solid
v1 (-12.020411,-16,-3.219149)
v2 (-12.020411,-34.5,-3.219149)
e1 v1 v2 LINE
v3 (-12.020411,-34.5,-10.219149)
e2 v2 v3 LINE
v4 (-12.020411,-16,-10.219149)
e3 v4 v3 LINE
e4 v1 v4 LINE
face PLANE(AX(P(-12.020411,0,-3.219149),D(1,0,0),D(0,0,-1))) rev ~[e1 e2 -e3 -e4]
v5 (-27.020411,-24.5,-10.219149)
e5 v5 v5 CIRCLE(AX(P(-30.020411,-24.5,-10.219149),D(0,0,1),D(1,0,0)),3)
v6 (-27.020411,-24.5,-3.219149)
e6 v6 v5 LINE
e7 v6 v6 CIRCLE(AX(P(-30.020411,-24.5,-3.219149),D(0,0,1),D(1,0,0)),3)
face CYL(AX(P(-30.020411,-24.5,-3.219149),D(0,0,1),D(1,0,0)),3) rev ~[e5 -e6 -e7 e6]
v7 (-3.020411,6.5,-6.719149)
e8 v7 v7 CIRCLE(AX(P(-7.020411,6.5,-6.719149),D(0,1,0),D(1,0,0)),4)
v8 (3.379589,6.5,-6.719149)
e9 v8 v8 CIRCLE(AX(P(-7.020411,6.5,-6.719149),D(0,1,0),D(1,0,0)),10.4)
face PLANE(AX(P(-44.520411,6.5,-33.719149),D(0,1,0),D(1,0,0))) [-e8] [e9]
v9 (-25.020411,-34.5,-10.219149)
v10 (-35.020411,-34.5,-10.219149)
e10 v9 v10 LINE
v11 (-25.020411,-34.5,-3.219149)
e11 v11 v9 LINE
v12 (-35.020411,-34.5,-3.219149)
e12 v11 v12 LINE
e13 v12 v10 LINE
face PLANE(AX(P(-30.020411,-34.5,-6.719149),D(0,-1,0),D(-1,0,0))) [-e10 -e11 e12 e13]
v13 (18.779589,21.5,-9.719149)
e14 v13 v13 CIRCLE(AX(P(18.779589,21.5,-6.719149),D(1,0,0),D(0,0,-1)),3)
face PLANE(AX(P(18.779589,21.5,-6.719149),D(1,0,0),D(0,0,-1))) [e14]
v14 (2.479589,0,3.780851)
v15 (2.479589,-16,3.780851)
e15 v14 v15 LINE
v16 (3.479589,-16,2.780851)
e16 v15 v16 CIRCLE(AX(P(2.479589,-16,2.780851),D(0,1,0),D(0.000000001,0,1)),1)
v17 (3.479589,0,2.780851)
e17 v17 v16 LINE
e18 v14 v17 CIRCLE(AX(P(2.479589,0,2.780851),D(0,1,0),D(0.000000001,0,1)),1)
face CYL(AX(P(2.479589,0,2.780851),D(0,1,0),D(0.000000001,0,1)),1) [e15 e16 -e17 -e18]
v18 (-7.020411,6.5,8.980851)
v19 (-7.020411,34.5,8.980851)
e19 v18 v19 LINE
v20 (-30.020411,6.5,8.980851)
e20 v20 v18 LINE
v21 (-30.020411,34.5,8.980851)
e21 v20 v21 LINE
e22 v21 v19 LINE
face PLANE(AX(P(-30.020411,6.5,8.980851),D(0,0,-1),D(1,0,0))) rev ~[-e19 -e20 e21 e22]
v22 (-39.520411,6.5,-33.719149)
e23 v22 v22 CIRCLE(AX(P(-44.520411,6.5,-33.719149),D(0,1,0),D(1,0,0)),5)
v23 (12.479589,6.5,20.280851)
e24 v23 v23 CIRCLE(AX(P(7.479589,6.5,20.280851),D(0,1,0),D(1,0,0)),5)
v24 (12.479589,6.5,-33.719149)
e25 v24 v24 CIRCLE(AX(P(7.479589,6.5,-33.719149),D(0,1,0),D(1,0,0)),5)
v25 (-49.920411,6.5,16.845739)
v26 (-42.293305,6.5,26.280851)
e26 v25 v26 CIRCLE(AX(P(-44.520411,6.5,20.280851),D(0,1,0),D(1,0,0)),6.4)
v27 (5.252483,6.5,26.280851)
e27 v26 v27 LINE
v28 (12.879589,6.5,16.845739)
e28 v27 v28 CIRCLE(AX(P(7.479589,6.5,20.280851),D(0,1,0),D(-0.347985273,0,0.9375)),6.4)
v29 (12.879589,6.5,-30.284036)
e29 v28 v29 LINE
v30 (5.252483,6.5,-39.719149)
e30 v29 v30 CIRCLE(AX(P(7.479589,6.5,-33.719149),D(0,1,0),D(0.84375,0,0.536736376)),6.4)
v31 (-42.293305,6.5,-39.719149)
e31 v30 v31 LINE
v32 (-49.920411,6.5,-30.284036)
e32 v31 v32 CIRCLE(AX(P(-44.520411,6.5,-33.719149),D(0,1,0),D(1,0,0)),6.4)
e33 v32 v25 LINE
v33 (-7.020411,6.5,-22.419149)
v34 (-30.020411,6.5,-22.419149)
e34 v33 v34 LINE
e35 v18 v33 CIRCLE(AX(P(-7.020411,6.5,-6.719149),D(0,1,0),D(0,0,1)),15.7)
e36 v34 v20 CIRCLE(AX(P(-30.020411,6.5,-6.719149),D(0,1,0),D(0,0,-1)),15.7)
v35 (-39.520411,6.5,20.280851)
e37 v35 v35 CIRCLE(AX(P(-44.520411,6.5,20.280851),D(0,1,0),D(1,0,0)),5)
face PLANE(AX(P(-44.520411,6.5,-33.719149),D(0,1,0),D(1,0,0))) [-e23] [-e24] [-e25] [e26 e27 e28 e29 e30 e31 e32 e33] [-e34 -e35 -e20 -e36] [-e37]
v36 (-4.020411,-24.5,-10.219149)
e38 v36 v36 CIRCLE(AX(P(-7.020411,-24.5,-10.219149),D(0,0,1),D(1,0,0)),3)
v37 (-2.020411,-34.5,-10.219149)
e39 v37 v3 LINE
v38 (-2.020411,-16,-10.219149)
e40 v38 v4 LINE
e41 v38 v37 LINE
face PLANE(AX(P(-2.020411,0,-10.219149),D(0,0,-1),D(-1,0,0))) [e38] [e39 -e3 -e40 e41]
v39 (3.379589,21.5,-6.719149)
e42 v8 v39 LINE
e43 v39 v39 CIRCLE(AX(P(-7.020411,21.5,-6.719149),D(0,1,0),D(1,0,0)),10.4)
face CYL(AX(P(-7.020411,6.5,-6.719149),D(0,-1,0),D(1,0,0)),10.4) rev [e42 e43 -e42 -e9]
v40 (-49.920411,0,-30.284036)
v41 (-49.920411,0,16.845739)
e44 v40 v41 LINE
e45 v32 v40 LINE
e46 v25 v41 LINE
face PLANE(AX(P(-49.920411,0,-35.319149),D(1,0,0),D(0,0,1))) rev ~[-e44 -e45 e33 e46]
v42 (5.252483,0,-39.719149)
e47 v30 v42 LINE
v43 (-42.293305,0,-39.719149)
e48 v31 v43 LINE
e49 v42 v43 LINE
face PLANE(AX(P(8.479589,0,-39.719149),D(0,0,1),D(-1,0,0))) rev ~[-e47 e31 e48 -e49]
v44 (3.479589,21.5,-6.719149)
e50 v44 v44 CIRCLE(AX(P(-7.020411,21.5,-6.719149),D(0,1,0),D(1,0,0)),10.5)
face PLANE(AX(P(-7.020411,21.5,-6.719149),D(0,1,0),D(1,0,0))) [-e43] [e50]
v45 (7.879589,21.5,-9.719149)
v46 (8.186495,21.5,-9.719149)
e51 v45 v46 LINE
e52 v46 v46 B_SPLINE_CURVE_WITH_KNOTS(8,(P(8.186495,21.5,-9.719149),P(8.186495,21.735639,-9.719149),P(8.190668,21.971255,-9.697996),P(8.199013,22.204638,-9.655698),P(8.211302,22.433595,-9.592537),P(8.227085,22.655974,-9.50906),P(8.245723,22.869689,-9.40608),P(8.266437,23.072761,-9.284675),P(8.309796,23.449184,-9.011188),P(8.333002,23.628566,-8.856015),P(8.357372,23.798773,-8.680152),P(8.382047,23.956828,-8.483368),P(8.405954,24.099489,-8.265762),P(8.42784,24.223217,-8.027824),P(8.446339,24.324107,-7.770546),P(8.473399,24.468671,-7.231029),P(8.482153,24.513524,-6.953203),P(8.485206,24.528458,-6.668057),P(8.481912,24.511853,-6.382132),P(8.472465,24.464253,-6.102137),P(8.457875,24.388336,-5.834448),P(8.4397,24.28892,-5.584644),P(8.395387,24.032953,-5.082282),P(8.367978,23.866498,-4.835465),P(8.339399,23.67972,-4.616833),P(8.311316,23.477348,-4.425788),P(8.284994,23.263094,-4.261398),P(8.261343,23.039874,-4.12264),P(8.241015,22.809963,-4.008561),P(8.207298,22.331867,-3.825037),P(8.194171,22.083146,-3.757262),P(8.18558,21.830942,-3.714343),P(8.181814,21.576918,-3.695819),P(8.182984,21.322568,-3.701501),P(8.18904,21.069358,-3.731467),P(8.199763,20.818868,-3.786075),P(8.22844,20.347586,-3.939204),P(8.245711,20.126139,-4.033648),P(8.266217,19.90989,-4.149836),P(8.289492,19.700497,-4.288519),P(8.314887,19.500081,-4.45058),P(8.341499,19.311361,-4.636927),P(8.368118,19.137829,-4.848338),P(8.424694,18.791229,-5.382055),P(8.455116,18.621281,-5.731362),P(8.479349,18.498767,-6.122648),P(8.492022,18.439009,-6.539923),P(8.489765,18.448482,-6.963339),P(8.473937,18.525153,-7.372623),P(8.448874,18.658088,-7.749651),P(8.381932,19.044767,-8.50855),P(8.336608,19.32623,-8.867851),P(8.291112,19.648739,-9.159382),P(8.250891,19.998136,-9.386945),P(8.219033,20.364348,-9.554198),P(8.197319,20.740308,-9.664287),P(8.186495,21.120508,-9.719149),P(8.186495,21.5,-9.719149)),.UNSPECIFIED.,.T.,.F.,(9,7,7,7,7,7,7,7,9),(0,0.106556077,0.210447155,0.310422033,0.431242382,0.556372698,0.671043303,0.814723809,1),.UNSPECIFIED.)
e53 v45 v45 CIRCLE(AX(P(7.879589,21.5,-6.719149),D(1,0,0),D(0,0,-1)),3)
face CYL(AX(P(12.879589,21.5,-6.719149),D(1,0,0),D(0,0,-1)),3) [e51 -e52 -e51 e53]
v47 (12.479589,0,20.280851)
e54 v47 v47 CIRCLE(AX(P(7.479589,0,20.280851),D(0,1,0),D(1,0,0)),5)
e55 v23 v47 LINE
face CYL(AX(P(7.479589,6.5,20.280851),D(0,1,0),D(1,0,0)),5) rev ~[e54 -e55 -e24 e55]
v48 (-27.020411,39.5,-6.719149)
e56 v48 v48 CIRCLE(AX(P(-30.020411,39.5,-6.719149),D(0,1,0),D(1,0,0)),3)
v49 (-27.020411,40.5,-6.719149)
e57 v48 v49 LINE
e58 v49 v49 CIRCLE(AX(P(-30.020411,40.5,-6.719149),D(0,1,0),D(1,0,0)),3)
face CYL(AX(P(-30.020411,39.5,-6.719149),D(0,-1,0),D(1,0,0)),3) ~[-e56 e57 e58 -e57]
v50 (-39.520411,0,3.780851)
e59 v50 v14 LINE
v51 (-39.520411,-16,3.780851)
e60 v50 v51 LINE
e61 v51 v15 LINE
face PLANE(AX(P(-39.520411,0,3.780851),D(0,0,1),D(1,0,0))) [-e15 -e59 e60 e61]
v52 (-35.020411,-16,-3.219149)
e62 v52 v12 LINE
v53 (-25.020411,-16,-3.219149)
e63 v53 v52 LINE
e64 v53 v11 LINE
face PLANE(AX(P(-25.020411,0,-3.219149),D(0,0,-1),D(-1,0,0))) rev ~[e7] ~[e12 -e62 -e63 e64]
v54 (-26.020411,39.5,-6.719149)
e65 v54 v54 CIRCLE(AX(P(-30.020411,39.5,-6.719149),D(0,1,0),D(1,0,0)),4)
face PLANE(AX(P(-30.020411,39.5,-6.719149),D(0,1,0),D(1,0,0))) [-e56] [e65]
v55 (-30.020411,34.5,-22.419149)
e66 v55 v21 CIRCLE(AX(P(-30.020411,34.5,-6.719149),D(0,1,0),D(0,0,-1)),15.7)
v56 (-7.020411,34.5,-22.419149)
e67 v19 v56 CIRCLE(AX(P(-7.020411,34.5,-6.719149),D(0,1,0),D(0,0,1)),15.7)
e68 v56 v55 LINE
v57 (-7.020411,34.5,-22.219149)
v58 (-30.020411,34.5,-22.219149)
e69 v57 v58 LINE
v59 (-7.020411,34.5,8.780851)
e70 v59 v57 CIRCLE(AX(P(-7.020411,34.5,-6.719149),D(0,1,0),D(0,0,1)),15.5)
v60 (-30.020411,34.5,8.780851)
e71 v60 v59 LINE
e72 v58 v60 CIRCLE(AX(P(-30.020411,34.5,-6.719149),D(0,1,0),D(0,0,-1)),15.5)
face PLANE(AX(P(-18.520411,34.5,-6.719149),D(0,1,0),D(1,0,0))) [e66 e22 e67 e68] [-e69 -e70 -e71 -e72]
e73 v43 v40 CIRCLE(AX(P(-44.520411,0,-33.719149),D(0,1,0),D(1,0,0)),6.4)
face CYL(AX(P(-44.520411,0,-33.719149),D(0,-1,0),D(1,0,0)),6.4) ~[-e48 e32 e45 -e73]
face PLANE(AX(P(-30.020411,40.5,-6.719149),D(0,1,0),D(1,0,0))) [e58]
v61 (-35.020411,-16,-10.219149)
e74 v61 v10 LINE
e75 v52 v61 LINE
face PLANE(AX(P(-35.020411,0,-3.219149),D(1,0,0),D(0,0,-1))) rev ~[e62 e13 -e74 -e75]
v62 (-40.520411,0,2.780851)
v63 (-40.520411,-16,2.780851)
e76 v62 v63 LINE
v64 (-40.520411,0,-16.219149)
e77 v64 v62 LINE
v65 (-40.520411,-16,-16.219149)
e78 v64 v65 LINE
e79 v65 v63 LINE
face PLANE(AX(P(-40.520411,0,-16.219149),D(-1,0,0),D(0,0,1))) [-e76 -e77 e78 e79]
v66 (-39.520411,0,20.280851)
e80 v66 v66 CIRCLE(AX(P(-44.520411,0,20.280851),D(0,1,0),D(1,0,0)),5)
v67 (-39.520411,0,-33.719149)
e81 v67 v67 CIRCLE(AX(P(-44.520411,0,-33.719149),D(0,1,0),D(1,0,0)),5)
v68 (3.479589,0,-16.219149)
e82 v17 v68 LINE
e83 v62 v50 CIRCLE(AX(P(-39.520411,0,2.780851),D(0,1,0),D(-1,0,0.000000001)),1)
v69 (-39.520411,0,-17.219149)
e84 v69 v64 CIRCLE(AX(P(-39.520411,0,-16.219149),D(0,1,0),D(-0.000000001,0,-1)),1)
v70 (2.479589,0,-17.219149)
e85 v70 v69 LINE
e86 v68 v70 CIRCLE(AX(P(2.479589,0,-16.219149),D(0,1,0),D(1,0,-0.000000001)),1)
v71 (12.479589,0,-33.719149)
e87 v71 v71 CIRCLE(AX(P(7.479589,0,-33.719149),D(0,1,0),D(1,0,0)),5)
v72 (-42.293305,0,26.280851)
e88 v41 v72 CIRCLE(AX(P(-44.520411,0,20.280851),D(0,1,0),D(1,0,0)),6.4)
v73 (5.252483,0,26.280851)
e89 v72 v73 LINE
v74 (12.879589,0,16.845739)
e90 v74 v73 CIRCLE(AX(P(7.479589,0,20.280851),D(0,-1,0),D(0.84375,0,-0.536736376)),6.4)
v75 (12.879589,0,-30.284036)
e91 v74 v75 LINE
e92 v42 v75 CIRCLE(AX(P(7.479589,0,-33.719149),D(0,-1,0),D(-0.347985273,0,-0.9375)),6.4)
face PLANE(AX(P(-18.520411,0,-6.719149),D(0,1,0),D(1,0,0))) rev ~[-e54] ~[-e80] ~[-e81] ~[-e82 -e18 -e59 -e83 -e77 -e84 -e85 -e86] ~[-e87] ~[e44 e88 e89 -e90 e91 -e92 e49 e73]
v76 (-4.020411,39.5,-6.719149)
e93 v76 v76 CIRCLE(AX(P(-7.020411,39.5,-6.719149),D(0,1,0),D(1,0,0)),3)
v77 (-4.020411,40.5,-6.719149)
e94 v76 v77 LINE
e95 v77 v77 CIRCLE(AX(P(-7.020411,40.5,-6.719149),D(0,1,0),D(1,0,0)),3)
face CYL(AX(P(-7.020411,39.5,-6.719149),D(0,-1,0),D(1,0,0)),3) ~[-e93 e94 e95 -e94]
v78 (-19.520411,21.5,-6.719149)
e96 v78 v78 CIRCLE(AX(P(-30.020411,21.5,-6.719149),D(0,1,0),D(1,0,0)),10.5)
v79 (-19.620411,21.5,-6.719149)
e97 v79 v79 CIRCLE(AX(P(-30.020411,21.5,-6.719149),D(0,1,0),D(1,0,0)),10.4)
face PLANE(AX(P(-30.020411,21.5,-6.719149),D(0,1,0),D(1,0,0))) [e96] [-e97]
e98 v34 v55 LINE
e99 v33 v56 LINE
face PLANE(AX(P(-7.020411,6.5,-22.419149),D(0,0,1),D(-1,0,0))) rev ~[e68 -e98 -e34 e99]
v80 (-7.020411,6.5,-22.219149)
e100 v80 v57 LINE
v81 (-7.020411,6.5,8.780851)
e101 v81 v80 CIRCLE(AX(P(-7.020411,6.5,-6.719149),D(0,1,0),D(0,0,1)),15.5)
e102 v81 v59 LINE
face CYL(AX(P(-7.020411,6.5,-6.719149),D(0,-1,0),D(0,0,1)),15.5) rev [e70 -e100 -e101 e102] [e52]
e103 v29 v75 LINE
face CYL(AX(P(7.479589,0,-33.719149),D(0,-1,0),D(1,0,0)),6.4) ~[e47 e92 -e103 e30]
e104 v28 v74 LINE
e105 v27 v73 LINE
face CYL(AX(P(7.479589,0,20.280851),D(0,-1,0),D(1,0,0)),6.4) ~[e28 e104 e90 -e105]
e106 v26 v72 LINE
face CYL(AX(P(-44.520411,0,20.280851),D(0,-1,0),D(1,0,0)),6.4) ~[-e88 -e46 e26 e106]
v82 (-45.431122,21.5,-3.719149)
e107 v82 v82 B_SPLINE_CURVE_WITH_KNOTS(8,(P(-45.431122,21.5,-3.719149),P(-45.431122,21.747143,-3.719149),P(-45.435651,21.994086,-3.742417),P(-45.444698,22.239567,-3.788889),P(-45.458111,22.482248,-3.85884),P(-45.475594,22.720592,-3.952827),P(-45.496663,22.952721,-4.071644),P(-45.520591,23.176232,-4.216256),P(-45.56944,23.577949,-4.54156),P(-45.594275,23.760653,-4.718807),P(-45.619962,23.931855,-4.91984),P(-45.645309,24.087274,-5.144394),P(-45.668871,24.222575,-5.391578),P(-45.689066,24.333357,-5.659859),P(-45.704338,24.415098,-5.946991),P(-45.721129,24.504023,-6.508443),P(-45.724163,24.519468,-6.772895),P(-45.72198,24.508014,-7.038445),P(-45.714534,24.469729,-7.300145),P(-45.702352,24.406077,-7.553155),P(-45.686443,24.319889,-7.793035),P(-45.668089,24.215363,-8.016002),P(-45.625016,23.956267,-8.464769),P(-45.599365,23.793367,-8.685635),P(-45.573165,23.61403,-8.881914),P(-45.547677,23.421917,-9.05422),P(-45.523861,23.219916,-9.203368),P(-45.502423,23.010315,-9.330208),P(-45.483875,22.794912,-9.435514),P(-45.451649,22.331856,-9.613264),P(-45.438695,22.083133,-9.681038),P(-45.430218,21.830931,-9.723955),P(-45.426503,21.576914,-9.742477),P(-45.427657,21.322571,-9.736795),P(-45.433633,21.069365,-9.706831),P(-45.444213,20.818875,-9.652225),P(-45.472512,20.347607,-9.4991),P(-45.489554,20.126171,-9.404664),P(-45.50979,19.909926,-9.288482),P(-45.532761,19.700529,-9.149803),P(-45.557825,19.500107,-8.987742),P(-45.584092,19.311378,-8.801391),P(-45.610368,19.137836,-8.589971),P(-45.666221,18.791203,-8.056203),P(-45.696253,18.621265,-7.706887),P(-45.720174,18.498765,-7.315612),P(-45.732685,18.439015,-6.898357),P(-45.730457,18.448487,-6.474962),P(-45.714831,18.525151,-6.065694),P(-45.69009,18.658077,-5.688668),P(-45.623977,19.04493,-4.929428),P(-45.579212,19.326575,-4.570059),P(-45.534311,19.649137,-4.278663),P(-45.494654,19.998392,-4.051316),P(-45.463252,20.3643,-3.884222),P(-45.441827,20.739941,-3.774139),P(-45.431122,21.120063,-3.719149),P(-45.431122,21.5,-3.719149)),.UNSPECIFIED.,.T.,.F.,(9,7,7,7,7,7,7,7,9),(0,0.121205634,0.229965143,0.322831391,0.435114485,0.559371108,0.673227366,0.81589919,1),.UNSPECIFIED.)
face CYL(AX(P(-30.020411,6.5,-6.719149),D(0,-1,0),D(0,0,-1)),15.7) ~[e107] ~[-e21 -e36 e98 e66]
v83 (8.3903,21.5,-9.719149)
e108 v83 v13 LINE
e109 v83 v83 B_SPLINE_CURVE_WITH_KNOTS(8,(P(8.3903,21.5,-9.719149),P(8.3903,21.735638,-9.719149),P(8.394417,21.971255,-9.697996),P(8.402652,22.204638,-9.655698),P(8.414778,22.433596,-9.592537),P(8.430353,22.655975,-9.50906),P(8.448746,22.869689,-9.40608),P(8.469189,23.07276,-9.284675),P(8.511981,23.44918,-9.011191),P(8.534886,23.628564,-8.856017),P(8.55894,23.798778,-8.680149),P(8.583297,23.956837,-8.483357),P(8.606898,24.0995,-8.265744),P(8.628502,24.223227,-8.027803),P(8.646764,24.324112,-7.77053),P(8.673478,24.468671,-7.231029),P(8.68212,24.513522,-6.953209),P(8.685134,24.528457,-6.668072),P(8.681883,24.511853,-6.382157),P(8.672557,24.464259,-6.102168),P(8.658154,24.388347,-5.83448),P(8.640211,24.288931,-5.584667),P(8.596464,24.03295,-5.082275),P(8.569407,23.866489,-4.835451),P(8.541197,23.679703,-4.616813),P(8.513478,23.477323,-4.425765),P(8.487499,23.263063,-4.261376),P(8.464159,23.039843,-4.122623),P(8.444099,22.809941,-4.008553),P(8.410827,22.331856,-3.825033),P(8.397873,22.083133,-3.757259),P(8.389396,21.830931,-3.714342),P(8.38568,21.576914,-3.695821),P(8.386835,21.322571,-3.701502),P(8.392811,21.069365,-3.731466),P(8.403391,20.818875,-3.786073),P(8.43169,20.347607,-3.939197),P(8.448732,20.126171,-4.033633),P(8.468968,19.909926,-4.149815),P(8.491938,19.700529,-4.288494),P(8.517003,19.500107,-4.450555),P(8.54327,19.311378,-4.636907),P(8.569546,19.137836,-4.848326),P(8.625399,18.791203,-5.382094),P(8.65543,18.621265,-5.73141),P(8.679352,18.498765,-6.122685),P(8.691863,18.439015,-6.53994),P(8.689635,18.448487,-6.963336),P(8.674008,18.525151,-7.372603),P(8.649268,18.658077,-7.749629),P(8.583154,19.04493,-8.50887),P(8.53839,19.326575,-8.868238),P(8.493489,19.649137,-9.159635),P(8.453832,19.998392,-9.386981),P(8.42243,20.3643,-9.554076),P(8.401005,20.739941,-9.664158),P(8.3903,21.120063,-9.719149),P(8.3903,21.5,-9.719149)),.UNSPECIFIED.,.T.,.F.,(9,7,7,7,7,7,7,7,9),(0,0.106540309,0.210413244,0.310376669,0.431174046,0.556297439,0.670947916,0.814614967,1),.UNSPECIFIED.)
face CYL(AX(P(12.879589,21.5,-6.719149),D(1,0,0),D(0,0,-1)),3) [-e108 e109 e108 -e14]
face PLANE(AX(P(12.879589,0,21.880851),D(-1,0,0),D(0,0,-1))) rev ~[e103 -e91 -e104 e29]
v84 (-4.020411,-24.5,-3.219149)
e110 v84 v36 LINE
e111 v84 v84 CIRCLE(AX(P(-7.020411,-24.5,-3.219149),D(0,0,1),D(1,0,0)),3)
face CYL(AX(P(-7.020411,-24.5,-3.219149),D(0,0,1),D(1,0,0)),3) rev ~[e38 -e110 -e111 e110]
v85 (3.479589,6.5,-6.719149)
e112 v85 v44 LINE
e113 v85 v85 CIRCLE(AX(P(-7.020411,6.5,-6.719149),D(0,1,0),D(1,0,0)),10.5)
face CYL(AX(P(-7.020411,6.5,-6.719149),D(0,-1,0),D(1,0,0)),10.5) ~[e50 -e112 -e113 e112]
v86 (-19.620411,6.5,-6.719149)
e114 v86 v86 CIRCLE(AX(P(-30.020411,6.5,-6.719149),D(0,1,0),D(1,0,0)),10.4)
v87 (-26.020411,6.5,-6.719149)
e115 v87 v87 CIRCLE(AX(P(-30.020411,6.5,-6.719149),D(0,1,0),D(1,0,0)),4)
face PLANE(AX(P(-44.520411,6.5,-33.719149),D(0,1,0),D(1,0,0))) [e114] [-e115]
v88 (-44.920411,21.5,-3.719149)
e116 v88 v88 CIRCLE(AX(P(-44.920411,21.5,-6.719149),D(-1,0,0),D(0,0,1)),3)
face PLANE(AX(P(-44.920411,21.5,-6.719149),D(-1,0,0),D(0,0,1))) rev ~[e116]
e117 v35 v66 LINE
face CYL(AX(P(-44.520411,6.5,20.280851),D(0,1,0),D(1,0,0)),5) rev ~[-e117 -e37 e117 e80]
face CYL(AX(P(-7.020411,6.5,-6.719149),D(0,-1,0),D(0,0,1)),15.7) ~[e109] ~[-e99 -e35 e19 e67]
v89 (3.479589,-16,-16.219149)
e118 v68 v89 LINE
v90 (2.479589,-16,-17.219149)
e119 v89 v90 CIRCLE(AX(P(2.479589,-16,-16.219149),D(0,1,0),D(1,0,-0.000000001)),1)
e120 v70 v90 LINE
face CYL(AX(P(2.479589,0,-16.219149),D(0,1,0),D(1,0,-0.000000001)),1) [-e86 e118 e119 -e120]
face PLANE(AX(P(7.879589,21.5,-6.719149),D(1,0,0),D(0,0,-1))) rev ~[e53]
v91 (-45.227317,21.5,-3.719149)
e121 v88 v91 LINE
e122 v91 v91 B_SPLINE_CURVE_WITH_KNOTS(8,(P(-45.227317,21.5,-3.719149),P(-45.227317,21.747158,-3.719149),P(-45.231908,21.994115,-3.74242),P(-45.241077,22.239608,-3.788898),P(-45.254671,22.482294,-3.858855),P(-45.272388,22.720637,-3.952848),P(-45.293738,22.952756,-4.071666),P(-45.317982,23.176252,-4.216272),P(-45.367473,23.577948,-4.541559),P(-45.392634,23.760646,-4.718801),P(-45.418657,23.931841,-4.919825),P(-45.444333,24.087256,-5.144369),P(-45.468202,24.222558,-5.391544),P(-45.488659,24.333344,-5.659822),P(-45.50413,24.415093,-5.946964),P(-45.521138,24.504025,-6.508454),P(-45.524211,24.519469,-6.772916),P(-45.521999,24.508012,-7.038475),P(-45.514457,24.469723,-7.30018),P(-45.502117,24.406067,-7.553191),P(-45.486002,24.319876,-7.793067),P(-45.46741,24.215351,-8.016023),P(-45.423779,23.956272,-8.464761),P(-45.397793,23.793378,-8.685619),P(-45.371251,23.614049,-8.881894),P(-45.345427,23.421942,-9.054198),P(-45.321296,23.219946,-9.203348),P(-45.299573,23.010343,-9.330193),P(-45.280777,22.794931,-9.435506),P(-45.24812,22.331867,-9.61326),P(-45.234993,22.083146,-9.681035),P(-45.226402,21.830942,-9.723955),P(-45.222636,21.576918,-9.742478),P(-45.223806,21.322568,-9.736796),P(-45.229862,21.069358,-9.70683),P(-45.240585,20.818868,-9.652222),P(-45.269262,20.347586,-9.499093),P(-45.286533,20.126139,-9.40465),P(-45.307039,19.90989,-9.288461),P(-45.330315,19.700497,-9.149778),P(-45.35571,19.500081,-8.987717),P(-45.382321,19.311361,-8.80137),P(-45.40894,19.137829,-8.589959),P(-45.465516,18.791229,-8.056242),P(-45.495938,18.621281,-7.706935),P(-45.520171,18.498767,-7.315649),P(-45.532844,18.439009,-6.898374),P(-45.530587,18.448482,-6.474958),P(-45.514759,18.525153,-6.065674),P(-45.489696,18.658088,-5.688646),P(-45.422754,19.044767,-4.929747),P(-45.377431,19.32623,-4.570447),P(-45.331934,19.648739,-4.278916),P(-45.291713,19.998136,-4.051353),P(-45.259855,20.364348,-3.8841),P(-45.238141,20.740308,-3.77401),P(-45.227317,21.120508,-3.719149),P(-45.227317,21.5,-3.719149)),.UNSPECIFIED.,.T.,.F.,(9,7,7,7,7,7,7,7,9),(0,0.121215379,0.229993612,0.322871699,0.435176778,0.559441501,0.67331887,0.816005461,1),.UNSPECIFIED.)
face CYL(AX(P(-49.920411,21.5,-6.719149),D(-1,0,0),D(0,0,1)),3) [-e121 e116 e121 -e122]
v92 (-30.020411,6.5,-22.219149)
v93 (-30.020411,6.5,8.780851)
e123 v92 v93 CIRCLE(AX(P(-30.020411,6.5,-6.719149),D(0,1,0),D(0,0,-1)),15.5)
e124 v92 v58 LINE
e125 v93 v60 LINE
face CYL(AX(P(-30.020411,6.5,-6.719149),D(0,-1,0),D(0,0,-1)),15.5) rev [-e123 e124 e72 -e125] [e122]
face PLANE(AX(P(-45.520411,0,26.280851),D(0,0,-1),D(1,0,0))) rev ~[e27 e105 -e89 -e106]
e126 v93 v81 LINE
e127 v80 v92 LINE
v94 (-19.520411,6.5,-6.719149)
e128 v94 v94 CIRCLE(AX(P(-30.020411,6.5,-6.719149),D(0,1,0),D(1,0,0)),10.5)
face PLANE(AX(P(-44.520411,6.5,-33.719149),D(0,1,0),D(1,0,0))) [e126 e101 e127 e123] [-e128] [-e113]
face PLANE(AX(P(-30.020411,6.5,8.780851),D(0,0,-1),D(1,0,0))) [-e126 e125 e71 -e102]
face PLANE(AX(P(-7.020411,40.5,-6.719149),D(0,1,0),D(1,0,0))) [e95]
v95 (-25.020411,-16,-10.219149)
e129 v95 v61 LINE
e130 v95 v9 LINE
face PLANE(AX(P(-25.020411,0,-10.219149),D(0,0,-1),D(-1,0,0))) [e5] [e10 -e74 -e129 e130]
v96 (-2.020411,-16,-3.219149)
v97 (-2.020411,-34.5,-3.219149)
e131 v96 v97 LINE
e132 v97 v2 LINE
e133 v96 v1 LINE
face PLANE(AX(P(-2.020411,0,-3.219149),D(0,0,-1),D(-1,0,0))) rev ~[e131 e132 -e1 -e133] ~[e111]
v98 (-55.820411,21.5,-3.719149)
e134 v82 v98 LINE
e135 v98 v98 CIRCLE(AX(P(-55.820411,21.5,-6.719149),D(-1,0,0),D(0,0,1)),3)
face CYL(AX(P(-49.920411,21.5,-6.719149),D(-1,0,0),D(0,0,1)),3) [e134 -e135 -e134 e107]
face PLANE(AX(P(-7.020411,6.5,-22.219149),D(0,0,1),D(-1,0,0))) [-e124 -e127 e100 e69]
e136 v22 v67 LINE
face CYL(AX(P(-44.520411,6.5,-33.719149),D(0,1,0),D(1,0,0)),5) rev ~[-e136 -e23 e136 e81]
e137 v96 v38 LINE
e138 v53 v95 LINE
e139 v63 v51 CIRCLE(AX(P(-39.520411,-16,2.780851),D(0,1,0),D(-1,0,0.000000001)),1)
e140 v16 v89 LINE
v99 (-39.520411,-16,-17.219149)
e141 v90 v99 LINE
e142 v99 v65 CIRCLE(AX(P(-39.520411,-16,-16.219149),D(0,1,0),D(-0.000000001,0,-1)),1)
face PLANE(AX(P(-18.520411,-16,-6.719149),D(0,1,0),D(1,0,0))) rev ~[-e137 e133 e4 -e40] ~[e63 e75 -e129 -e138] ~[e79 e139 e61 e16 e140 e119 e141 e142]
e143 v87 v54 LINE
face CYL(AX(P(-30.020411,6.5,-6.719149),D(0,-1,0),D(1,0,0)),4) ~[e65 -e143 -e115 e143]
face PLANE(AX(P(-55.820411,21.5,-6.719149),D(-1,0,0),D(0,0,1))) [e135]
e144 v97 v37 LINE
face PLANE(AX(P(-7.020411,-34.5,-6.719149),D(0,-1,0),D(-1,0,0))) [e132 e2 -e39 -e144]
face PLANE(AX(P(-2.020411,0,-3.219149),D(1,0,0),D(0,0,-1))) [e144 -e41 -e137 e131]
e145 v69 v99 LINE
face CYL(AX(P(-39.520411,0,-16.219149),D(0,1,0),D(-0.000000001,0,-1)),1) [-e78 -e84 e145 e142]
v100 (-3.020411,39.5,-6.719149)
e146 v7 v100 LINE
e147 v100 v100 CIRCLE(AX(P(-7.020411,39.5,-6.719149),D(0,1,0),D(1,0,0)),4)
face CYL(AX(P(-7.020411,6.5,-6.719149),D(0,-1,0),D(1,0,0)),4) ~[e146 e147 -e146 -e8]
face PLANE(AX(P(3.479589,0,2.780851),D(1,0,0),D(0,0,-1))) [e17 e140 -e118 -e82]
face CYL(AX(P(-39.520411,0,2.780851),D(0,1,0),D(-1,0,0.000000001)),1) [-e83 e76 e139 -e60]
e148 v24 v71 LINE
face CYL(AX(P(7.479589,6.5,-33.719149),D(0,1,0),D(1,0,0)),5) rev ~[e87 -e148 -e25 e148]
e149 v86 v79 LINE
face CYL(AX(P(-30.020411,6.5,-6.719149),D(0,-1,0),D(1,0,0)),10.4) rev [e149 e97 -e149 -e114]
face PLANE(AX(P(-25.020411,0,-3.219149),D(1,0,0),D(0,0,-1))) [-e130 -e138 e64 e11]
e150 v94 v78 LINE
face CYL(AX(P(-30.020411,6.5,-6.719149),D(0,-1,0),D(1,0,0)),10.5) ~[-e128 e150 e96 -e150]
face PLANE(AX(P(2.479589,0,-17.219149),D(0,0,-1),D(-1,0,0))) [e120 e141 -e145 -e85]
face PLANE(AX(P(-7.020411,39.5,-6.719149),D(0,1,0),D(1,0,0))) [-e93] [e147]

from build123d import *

# Parameters (mm, degrees)
DODANIE_WYCI_GNI_CIE1_DEPTH      = 6.5
SZKIC2_R                         = 6.4
DODANIE_WYCI_GNI_CIE2_DEPTH      = 6.5
SZKIC3_R                         = 5
WYTNIJ_WYCI_GNI_CIE4_DEPTH       = 6.5
SZKIC4_R                         = 10.5
SZKIC4_R_2                       = 10.4
DODANIE_WYCI_GNI_CIE3_DEPTH      = 15
DODANIE_WYCI_GNI_CIE4_DEPTH      = 16
SZKIC6_W                         = 10
SZKIC6_H                         = 7
DODANIE_WYCI_GNI_CIE5_DEPTH      = 34.5
SZKIC7_R                         = 4
DODANIE_WYCI_GNI_CIE6_DEPTH      = 33
SZKIC8_R                         = 3
DODANIE_WYCI_GNI_CIE7_DEPTH      = 1
SZKIC9_R                         = 3
DODANIE_WYCI_GNI_CIE8_DEPTH      = 5.9
DODANIE_WYCI_GNI_CIE8_DEPTH_BACK = 5
SZKIC10_R                        = 3
DODANIE_WYCI_GNI_CIE9_DEPTH      = 5.9
DODANIE_WYCI_GNI_CIE9_DEPTH_BACK = 5
DODANIE_WYCI_GNI_CIE10_DEPTH     = 28
SZKIC12_R                        = 3
WYTNIJ_WYCI_GNI_CIE5_DEPTH       = 7


with BuildPart() as part:
    # Szkic1 → Dodanie-wyciągnięcie1 (new body)
    with BuildSketch(Plane(origin=(0, 0, 0), x_dir=(1, 0, 0), z_dir=(0, 1, 0))):
        with BuildLine():
            Line((-49.920411058, 35.319148676), (-49.920411058, -21.880851324))
            ThreePointArc((-49.920411058, -21.880851324), (-48.631680895, -24.992121161), (-45.520411058, -26.280851324))
            Line((-45.520411058, -26.280851324), (8.479588942, -26.280851324))
            ThreePointArc((8.479588942, -26.280851324), (11.590858779, -24.992121161), (12.879588942, -21.880851324))
            Line((12.879588942, -21.880851324), (12.879588942, 35.319148676))
            ThreePointArc((12.879588942, 35.319148676), (11.590858779, 38.430418513), (8.479588942, 39.719148676))
            Line((8.479588942, 39.719148676), (-45.520411058, 39.719148676))
            ThreePointArc((-45.520411058, 39.719148676), (-48.631680895, 38.430418513), (-49.920411058, 35.319148676))
        make_face()
    extrude(amount=DODANIE_WYCI_GNI_CIE1_DEPTH)

    # Szkic2 → Dodanie-wyciągnięcie2 (add)
    with BuildSketch(Plane(origin=(0, 0, 0), x_dir=(1, 0, 0), z_dir=(0, 1, 0))):
        with Locations((-44.520411058, 33.719148676)):
            Circle(SZKIC2_R)
        with Locations((-44.520411058, -20.280851324)):
            Circle(SZKIC2_R)
        with Locations((7.479588942, -20.280851324)):
            Circle(SZKIC2_R)
        with Locations((7.479588942, 33.719148676)):
            Circle(SZKIC2_R)
    extrude(amount=DODANIE_WYCI_GNI_CIE2_DEPTH)

    # Szkic3 → Wytnij-wyciągnięcie4 (cut)
    with BuildSketch(Plane(origin=(0, 6.5, 0), x_dir=(1, 0, 0), z_dir=(0, 1, 0))):
        with Locations((7.479588942, 33.719148676)):
            Circle(SZKIC3_R)
        with Locations((-44.520411058, 33.719148676)):
            Circle(SZKIC3_R)
        with Locations((7.479588942, -20.280851324)):
            Circle(SZKIC3_R)
        with Locations((-44.520411058, -20.280851324)):
            Circle(SZKIC3_R)
    extrude(amount=-WYTNIJ_WYCI_GNI_CIE4_DEPTH, mode=Mode.SUBTRACT)

    # Szkic4 → Dodanie-wyciągnięcie3 (add)
    with BuildSketch(Plane(origin=(0, 6.5, 0), x_dir=(1, 0, 0), z_dir=(0, 1, 0))):
        with Locations((-30.020411058, 6.719148676)):
            Circle(SZKIC4_R)
        with Locations((-30.020411058, 6.719148676)):
            Circle(SZKIC4_R_2, mode=Mode.SUBTRACT)
        with Locations((-7.020411058, 6.719148676)):
            Circle(SZKIC4_R)
        with Locations((-7.020411058, 6.719148676)):
            Circle(SZKIC4_R_2, mode=Mode.SUBTRACT)
    extrude(amount=DODANIE_WYCI_GNI_CIE3_DEPTH)

    # Szkic5 → Dodanie-wyciągnięcie4 (add)
    with BuildSketch(Plane(origin=(0, 0, 0), x_dir=(-1, 0, 0), z_dir=(0, -1, 0))):
        with BuildLine():
            Line((-3.479588942, -2.780851324), (-3.479588942, 16.219148676))
            ThreePointArc((-3.479588942, 16.219148676), (-3.186695723, 16.926255457), (-2.479588942, 17.219148676))
            Line((-2.479588942, 17.219148676), (39.520411058, 17.219148676))
            ThreePointArc((39.520411058, 17.219148676), (40.227517839, 16.926255457), (40.520411058, 16.219148676))
            Line((40.520411058, 16.219148676), (40.520411058, -2.780851324))
            ThreePointArc((40.520411058, -2.780851324), (40.227517839, -3.487958105), (39.520411058, -3.780851324))
            Line((39.520411058, -3.780851324), (-2.479588942, -3.780851324))
            ThreePointArc((-2.479588942, -3.780851324), (-3.186695723, -3.487958105), (-3.479588942, -2.780851324))
        make_face()
    extrude(amount=DODANIE_WYCI_GNI_CIE4_DEPTH)

    # Szkic6 → Dodanie-wyciągnięcie5 (add)
    with BuildSketch(Plane(origin=(0, 0, 0), x_dir=(-1, 0, 0), z_dir=(0, -1, 0))):
        with Locations((30.020411058, 6.719148676)):
            Rectangle(SZKIC6_W, SZKIC6_H)
        with Locations((7.020411058, 6.719148676)):
            Rectangle(SZKIC6_W, SZKIC6_H)
    extrude(amount=DODANIE_WYCI_GNI_CIE5_DEPTH)

    # Szkic7 → Dodanie-wyciągnięcie6 (add)
    with BuildSketch(Plane(origin=(0, 6.5, 0), x_dir=(1, 0, 0), z_dir=(0, 1, 0))):
        with Locations((-30.020411058, 6.719148676)):
            Circle(SZKIC7_R)
        with Locations((-7.020411058, 6.719148676)):
            Circle(SZKIC7_R)
    extrude(amount=DODANIE_WYCI_GNI_CIE6_DEPTH)

    # Szkic8 → Dodanie-wyciągnięcie7 (add)
    with BuildSketch(Plane(origin=(0, 39.5, 0), x_dir=(1, 0, 0), z_dir=(0, 1, 0))):
        with Locations((-30.020411058, 6.719148676)):
            Circle(SZKIC8_R)
        with Locations((-7.020411058, 6.719148676)):
            Circle(SZKIC8_R)
    extrude(amount=DODANIE_WYCI_GNI_CIE7_DEPTH)



with BuildPart() as body_2:
    # Szkic9 → Dodanie-wyciągnięcie8 (new body, two sides)
    with BuildSketch(Plane.ZY.offset(49.920411058)) as dodanie_wyci_gni_cie8_sk:
        with Locations((-6.719148676, 21.5)):
            Circle(SZKIC9_R)
    extrude(amount=DODANIE_WYCI_GNI_CIE8_DEPTH)
    extrude(dodanie_wyci_gni_cie8_sk.sketch, amount=-DODANIE_WYCI_GNI_CIE8_DEPTH_BACK)


with BuildPart() as body_3:
    # Szkic10 → Dodanie-wyciągnięcie9 (new body, two sides)
    with BuildSketch(Plane(origin=(12.879588942, 0, 0), x_dir=(0, 0, -1), z_dir=(1, 0, 0))) as dodanie_wyci_gni_cie9_sk:
        with Locations((6.719148676, 21.5)):
            Circle(SZKIC10_R)
    extrude(amount=DODANIE_WYCI_GNI_CIE9_DEPTH)
    extrude(dodanie_wyci_gni_cie9_sk.sketch, amount=-DODANIE_WYCI_GNI_CIE9_DEPTH_BACK)


with BuildPart() as part_1:
    add(part.part)

    add(body_2.part)  # Dodanie-wyciągnięcie10 merges body 2

    add(body_3.part)  # Dodanie-wyciągnięcie10 merges body 3
    # Szkic11 → Dodanie-wyciągnięcie10 (add)
    with BuildSketch(Plane(origin=(0, 6.5, 0), x_dir=(1, 0, 0), z_dir=(0, 1, 0))):
        with BuildLine():
            Line((-7.020411058, 22.419148676), (-30.020411058, 22.419148676))
            ThreePointArc((-30.020411058, 22.419148676), (-45.720411058, 6.719148676), (-30.020411058, -8.980851324))
            Line((-30.020411058, -8.980851324), (-7.020411058, -8.980851324))
            ThreePointArc((-7.020411058, -8.980851324), (8.679588942, 6.719148676), (-7.020411058, 22.419148676))
        make_face()
        with BuildLine():
            Line((-7.020411058, 22.219148676), (-30.020411058, 22.219148676))
            ThreePointArc((-30.020411058, 22.219148676), (-45.520411058, 6.719148676), (-30.020411058, -8.780851324))
            Line((-30.020411058, -8.780851324), (-7.020411058, -8.780851324))
            ThreePointArc((-7.020411058, -8.780851324), (8.479588942, 6.719148676), (-7.020411058, 22.219148676))
        make_face(mode=Mode.SUBTRACT)
    extrude(amount=DODANIE_WYCI_GNI_CIE10_DEPTH)

    # Szkic12 → Wytnij-wyciągnięcie5 (cut)
    with BuildSketch(Plane.XY.offset(-3.219148676)):
        with Locations((-7.020411058, -24.5)):
            Circle(SZKIC12_R)
        with Locations((-30.020411058, -24.5)):
            Circle(SZKIC12_R)
    extrude(amount=-WYTNIJ_WYCI_GNI_CIE5_DEPTH, mode=Mode.SUBTRACT)


solid = part_1.part
